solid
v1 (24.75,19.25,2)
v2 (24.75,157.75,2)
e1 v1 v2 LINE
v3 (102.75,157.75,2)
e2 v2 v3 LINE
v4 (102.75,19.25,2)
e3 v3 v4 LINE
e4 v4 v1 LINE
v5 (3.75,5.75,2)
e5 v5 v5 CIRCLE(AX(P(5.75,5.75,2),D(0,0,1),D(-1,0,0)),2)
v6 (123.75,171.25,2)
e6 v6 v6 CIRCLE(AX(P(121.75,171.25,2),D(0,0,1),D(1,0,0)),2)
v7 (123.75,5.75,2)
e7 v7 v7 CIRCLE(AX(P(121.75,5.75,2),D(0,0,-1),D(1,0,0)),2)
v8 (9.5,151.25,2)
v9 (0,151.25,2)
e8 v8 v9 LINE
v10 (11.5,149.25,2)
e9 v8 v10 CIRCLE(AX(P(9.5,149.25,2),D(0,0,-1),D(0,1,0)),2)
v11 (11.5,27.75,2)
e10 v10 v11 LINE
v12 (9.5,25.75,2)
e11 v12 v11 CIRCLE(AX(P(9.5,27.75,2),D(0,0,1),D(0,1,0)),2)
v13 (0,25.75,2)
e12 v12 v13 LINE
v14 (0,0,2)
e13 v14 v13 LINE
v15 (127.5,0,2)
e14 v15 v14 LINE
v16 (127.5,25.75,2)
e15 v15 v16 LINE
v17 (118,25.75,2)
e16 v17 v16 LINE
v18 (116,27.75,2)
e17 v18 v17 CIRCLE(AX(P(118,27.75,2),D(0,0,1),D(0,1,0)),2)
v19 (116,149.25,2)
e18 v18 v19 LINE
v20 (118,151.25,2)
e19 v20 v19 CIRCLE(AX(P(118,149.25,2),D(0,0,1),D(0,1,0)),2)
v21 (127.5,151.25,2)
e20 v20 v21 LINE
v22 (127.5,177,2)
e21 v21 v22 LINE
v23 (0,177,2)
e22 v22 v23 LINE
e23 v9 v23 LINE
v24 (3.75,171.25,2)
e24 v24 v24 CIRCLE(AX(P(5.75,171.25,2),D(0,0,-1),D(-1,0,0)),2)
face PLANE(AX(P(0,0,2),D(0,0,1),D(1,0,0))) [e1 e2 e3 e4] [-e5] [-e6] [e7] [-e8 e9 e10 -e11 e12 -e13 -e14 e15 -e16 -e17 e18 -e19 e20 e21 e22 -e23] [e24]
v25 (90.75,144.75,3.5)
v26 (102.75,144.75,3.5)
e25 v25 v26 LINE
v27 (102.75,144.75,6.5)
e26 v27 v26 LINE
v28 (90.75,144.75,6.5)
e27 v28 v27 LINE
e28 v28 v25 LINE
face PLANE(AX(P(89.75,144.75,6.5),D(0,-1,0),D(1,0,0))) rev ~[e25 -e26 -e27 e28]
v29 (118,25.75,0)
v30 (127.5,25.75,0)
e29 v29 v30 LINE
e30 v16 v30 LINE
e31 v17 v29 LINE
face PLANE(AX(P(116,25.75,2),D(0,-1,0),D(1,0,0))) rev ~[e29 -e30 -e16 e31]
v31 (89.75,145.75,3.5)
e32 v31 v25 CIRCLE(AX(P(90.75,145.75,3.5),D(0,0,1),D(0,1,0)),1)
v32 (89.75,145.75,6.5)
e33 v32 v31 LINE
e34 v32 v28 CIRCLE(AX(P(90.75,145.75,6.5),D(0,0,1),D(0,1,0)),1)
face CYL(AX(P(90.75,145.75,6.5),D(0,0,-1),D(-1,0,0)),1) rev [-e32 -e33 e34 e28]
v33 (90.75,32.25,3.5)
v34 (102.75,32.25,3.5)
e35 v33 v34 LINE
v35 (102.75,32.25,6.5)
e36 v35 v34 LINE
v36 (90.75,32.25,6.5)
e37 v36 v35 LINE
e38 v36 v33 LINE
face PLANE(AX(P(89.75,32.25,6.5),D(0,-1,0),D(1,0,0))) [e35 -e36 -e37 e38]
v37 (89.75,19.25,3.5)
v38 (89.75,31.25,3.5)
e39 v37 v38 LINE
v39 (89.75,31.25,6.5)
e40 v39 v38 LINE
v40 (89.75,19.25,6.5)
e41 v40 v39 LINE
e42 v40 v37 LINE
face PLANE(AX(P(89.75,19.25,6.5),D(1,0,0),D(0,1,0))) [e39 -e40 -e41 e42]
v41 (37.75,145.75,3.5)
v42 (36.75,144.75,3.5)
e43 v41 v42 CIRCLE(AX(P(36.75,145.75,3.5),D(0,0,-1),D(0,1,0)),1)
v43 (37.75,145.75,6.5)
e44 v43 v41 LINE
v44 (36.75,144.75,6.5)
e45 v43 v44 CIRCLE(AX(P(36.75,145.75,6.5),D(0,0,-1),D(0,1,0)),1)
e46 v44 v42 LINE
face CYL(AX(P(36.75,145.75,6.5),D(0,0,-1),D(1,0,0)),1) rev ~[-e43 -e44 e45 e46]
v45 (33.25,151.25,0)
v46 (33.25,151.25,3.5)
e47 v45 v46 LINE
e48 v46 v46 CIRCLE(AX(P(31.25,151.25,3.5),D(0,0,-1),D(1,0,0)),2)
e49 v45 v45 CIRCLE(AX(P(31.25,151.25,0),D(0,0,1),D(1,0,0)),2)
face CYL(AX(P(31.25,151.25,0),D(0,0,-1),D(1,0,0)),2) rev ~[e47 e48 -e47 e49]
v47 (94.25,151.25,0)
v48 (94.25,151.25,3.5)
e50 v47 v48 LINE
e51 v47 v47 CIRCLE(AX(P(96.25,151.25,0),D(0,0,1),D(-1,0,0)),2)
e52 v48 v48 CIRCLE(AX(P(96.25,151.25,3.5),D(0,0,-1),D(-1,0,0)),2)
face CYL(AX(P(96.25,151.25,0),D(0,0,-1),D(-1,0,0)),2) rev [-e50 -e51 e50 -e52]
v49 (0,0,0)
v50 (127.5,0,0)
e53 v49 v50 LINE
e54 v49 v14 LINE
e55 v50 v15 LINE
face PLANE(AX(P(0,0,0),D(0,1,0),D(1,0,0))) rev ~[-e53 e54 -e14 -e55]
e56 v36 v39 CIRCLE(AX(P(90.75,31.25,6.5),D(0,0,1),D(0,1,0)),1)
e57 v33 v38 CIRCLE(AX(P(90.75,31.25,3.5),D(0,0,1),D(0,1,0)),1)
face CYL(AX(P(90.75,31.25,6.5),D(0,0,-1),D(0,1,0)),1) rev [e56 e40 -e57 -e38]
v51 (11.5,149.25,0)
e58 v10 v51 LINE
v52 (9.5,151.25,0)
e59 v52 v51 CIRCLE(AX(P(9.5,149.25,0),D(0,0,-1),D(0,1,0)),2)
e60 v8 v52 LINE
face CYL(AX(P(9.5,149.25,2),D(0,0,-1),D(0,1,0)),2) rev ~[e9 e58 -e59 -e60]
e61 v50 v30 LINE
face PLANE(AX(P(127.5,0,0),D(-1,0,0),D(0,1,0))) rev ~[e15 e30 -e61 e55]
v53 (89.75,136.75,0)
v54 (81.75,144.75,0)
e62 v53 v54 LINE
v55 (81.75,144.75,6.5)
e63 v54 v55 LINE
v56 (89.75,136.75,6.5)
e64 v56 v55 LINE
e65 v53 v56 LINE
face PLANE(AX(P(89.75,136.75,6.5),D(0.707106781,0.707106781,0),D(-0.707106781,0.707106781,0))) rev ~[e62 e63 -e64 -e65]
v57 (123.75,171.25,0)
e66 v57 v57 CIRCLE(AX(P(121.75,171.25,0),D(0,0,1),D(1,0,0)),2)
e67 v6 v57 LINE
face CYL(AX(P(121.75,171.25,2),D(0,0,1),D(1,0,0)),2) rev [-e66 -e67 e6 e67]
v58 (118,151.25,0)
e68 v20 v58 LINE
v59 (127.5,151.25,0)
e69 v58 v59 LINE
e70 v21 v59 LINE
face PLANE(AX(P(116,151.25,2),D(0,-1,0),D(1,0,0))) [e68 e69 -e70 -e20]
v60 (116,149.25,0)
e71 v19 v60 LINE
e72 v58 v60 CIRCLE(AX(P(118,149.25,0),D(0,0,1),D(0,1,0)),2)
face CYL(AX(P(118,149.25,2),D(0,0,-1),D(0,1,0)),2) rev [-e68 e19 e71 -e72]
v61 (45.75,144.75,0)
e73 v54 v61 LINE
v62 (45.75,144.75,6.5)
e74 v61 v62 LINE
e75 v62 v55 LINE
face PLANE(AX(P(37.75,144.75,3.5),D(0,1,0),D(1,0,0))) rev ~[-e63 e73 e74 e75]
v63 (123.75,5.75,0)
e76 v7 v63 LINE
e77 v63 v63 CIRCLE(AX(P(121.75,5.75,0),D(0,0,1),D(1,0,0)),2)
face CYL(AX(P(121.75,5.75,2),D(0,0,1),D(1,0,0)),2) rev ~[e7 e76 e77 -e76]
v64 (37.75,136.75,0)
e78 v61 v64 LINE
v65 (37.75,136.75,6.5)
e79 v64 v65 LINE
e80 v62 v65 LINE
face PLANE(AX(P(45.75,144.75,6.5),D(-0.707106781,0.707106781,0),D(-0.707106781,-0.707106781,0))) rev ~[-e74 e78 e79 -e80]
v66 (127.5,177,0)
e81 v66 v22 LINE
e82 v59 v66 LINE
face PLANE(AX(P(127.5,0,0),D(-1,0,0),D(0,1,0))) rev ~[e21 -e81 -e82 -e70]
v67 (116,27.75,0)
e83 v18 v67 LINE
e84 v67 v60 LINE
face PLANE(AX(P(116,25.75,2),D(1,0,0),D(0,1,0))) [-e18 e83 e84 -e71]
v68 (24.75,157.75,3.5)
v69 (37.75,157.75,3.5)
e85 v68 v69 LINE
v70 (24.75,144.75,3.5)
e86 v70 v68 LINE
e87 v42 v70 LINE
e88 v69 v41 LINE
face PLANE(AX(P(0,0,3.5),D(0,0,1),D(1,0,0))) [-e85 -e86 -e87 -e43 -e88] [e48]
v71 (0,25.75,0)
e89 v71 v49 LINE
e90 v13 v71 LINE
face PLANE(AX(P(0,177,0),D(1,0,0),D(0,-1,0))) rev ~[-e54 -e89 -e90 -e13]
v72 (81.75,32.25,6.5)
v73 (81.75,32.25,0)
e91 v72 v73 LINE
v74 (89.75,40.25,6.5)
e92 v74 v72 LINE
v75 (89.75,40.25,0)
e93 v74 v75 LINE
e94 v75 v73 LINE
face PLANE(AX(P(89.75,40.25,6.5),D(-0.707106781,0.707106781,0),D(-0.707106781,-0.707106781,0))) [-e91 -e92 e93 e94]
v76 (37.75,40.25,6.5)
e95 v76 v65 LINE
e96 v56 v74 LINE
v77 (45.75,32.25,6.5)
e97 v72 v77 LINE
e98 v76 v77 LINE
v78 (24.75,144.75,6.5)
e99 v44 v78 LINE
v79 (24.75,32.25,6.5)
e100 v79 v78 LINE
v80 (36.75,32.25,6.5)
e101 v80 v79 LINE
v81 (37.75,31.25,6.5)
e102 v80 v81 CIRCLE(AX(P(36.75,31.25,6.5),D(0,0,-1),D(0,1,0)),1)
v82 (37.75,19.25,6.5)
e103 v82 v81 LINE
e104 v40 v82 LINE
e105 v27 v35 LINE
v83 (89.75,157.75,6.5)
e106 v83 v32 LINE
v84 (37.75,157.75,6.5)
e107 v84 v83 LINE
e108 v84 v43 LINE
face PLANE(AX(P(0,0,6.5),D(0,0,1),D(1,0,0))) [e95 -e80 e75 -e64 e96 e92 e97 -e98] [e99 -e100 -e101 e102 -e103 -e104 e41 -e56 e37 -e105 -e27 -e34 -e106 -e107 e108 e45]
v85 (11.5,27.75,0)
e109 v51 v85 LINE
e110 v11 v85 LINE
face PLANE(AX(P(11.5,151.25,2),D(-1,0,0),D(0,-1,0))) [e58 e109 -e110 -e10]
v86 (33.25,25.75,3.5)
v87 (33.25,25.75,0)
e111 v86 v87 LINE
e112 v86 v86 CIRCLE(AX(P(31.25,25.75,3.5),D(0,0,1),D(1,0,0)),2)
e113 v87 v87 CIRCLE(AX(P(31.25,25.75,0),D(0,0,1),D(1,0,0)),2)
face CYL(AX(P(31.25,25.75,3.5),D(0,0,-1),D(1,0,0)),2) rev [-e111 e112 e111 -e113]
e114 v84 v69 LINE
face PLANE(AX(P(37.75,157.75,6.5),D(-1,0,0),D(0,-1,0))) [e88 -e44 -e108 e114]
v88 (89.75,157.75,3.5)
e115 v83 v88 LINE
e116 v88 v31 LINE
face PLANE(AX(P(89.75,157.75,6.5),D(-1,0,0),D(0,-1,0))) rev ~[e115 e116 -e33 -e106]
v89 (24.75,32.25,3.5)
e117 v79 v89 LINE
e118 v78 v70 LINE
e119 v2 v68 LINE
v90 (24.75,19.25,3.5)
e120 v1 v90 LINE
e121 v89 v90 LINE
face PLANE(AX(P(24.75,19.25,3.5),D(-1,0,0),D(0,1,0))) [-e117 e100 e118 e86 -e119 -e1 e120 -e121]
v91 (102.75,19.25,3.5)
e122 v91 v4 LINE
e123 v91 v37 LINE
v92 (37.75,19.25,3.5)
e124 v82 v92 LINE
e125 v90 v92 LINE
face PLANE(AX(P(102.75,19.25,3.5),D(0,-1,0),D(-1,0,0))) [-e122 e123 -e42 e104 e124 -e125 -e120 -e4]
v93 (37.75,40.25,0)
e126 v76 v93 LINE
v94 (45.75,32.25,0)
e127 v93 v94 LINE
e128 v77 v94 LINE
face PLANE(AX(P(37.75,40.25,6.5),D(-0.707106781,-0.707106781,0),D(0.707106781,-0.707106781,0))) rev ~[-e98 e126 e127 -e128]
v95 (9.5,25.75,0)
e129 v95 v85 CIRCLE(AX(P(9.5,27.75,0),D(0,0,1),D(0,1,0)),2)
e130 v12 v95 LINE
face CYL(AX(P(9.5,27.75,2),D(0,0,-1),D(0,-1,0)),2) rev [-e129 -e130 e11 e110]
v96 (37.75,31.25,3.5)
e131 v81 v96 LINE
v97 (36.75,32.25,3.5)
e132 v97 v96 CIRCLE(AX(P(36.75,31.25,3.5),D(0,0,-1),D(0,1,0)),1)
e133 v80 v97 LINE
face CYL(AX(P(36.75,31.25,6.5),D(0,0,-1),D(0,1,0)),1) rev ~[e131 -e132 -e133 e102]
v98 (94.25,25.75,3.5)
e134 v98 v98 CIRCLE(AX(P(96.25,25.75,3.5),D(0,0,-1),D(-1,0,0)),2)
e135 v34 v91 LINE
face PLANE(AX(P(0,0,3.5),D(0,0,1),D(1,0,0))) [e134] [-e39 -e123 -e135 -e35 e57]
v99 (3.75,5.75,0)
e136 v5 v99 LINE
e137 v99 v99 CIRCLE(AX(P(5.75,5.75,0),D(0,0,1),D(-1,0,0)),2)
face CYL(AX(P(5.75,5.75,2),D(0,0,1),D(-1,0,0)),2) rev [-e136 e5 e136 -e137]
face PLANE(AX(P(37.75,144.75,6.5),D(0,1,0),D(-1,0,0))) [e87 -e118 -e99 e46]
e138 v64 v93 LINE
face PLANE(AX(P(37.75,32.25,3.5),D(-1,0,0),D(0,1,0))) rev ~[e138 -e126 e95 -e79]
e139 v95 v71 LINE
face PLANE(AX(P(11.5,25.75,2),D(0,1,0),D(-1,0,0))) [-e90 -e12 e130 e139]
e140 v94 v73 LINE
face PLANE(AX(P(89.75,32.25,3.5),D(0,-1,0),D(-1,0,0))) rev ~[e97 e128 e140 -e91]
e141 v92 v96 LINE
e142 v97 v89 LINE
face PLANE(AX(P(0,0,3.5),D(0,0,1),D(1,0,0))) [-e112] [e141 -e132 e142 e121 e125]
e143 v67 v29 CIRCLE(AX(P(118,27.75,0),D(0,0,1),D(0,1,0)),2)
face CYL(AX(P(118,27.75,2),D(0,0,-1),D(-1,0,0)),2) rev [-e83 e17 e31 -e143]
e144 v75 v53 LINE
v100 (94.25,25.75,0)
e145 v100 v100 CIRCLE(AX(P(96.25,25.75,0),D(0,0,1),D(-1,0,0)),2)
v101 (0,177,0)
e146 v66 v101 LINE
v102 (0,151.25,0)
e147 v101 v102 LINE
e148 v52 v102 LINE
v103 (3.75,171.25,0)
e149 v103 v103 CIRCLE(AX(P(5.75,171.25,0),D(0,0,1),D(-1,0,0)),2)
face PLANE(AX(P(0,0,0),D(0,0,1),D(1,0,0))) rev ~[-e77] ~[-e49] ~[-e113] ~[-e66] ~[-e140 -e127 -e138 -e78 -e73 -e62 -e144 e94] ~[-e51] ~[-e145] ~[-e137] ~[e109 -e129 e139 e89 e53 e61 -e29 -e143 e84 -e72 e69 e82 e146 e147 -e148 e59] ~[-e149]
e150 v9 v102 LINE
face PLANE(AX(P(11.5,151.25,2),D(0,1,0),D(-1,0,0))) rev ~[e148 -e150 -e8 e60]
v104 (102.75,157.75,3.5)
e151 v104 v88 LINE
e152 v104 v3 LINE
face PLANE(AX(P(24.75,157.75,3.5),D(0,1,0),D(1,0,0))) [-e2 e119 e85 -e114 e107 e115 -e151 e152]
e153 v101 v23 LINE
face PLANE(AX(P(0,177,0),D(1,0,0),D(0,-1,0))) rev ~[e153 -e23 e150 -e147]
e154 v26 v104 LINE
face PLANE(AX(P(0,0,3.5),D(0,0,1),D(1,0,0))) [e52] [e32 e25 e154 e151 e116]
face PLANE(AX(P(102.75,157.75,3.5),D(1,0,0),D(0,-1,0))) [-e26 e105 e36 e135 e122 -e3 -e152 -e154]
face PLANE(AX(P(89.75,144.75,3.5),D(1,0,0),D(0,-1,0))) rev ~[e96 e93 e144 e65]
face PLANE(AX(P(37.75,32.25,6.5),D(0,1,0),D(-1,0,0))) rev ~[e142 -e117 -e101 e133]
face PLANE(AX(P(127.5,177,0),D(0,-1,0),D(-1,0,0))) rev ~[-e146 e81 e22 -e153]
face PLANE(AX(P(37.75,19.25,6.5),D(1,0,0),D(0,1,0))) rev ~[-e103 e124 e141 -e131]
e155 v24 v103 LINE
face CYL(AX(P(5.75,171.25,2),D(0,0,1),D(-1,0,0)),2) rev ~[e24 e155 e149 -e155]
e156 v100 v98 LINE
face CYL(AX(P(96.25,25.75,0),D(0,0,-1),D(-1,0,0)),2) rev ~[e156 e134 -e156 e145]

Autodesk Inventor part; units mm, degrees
ref_plane "YZ Plane" through (0, 0, 0) normal (1, 0, 0) x (0, 1, 0)
ref_plane "XZ Plane" through (0, 0, 0) normal (0, 1, 0) x (-1, 0, 0)
ref_plane "XY Plane" through (0, 0, 0) normal (0, 0, 1) x (1, 0, 0)
sketch "Boceto1" plane through (0, 0, 0) normal (0, 0, 1) x (1, 0, 0)
  line L0 (0, 0) -> (127.5, 0)
  line L1 (127.5, 0) -> (127.5, 177)
  line L2 (127.5, 177) -> (0, 177)
  line L3 (0, 177) -> (0, 0)
  dimension "d32" = 127.5
  dimension "d33" = 177
extrude "Extrusión1" add sketch "Boceto1" along normal blind 6
ref_plane "Plano de trabajo6" through (0, 88.5, 0) normal (0, -1, 0) x (1, 0, 0)
ref_plane "Plano de trabajo7" through (63.75, 0, 0) normal (-1, 0, 0) x (0, 0, 1)
sketch "Boceto17" plane through (0, 0, 6) normal (0, 0, 1) x (1, 0, 0)
  line L0 (127.5, 0) -> (116, 0)
  line L1 (116, 0) -> (116, 11.5)
  line L2 (116, 11.5) -> (127.5, 11.5)
  line L3 (127.5, 11.5) -> (127.5, 0)
  line L4 (0, 0) -> (11.5, 0)
  line L5 (11.5, 0) -> (11.5, 11.5)
  line L6 (11.5, 11.5) -> (0, 11.5)
  line L7 (0, 11.5) -> (0, 0)
  line L8 (127.5, 177) -> (116, 177)
  line L9 (116, 177) -> (116, 165.5)
  line L10 (116, 165.5) -> (127.5, 165.5)
  line L11 (127.5, 165.5) -> (127.5, 177)
  line L12 (0, 177) -> (11.5, 177)
  line L13 (11.5, 177) -> (11.5, 165.5)
  line L14 (11.5, 165.5) -> (0, 165.5)
  line L15 (0, 165.5) -> (0, 177)
  dimension "d124" = 11.5
  dimension "d125" = 11.5
  dimension "d129" = 11.5
  dimension "d130" = 11.5
  dimension "d131" = 11.5
  dimension "d132" = 11.5
  dimension "d133" = 11.5
  dimension "d134" = 11.5
extrude "Extrusión12" cut sketch "Boceto17" against normal blind 4
sketch "Boceto18" plane through (0, 0, 2) normal (0, 0, 1) x (1, 0, 0)
  line L0 (0, 0) -> (11.5, 0)
  line L1 (11.5, 0) -> (11.5, 11.5)
  line L2 (11.5, 11.5) -> (0, 11.5)
  line L3 (0, 11.5) -> (0, 0)
  line L4 (127.5, 0) -> (116, 0)
  line L5 (116, 0) -> (116, 11.5)
  line L6 (116, 11.5) -> (127.5, 11.5)
  line L7 (127.5, 11.5) -> (127.5, 0)
  line L8 (127.5, 177) -> (116, 177)
  line L9 (116, 177) -> (116, 165.5)
  line L10 (116, 165.5) -> (127.5, 165.5)
  line L11 (127.5, 165.5) -> (127.5, 177)
  line L12 (0, 177) -> (11.5, 177)
  line L13 (11.5, 177) -> (11.5, 165.5)
  line L14 (11.5, 165.5) -> (0, 165.5)
  line L15 (0, 165.5) -> (0, 177)
  line L16 (116, 11.5) -> (127.5, 0)
  line L17 (127.5, 11.5) -> (116, 0)
  circle A0 centre (121.75, 5.75) radius 2
  dimension "d137" = 4
extrude "Extrusión13" cut sketch "Boceto18" against normal blind 3.2 contours A0 L17 L16 | L16 L17 A0 | A0 L16 L17 | L17 L16 A0
mirror "Simetría7" about plane through (63.75, 0, 0) normal (-1, 0, 0) of "Extrusión13"
mirror "Simetría8" about plane through (0, 88.5, 0) normal (0, -1, 0) of "Extrusión13", "Simetría7"
sketch "Boceto19" plane through (0, 0, 6) normal (0, 0, 1) x (1, 0, 0)
  line L0 (0, 0) -> (127.5, 0)
  line L1 (127.5, 0) -> (127.5, 85.5)
  line L2 (127.5, 85.5) -> (0, 85.5)
  line L3 (0, 85.5) -> (0, 0)
  line L4 (127.5, 0) -> (127.5, 177) projected
  line L5 (0, 85.5) -> (127.5, 85.5)
  line L6 (127.5, 85.5) -> (127.5, 91.5)
  line L7 (127.5, 91.5) -> (0, 91.5)
  line L8 (0, 91.5) -> (0, 85.5)
  line L9 (0, 91.5) -> (127.5, 91.5)
  line L10 (127.5, 91.5) -> (127.5, 177)
  line L11 (127.5, 177) -> (0, 177)
  line L12 (0, 177) -> (0, 91.5)
  dimension "d140" = 127.5
  dimension "d141" = 85.5
  dimension "d142" = 6
extrude "Extrusión14" cut sketch "Boceto19" against normal blind 2.5
sketch "Boceto20" plane through (0, 0, 0) normal (0, 0, -1) x (-1, 0, 0)
  line L0 (-127.5, 165.5) -> (-127.5, 11.5) projected
  line L1 (-127.5, 88.5) -> (-127.5, 9.25)
  line L2 (-127.5, 0) -> (-127.5, 177) projected
  line L3 (-127.5, 88.5) -> (-48.25, 88.5) construction
  line L4 (-11.5, 0) -> (-116, 0) projected
  line L5 (-63.75, 0) -> (-102.75, 0)
  line L6 (-63.75, 0) -> (-24.75, 0) construction
  line L7 (-102.75, 0) -> (-102.75, 9.25)
  line L8 (-127.5, 9.25) -> (-102.75, 9.25)
  line L9 (-102.75, 9.25) -> (-24.75, 9.25)
  line L10 (-24.75, 9.25) -> (-24.75, 167.75)
  line L11 (-24.75, 167.75) -> (-102.75, 167.75)
  line L12 (-102.75, 167.75) -> (-102.75, 9.25)
  line L13 (-102.75, 9.25) -> (-102.75, 25.75)
  line L14 (-102.75, 25.75) -> (-96.25, 25.75)
  circle A0 centre (-96.25, 25.75) radius 2
  point P0 (0, 0)
  point P1 (-127.5, 91.5)
  point P2 (-127.5, 85.5)
  dimension "d145" = 79.25
  dimension "d146" = 90
  dimension "d149" = 39
  dimension "d150" = 180
  dimension "d151" = 78
  dimension "d152" = 158.5
  dimension "d153" = 16.5
  dimension "d154" = 6.5
  dimension "d155" = 4
extrude "Extrusión15" cut sketch "Boceto20" against normal blind 10 contours A0
mirror "Simetría9" about plane through (0, 88.5, 0) normal (0, -1, 0) of "Extrusión15"
mirror "Simetría10" about plane through (63.75, 0, 0) normal (-1, 0, 0) of "Extrusión15", "Simetría9"
sketch "Boceto21" plane through (0, 0, 3.5) normal (0, 0, 1) x (1, 0, 0)
  circle A0 centre (31.25, 25.75) radius 2 projected
  line L0 (31.25, 25.75) -> (24.75, 25.75)
  line L1 (24.75, 25.75) -> (24.75, 32.25)
  line L2 (24.75, 32.25) -> (37.75, 32.25)
  line L3 (37.75, 32.25) -> (37.75, 19.25)
  line L4 (37.75, 19.25) -> (24.75, 19.25)
  line L5 (24.75, 19.25) -> (24.75, 32.25)
  circle A1 centre (96.25, 151.25) radius 2 projected
  line L6 (96.25, 151.25) -> (102.75, 151.25)
  line L7 (96.25, 151.25) -> (102.75, 151.25) construction
  line L8 (102.75, 151.25) -> (102.75, 157.75)
  line L9 (102.75, 157.75) -> (89.75, 157.75)
  line L10 (89.75, 157.75) -> (89.75, 144.75)
  line L11 (89.75, 144.75) -> (102.75, 144.75)
  line L12 (102.75, 144.75) -> (102.75, 157.75)
  line L13 (37.75, 32.25) -> (89.75, 32.25)
  line L14 (89.75, 32.25) -> (89.75, 144.75)
  line L15 (89.75, 144.75) -> (37.75, 144.75)
  line L16 (37.75, 144.75) -> (37.75, 32.25)
  point P0 (0, 0)
  dimension "d158" = 6.5
  dimension "d159" = 6.5
  dimension "d160" = 13
  dimension "d161" = 13
  dimension "d162" = 6.5
  dimension "d163" = 0
  dimension "d164" = 6.5
  dimension "d165" = 90
  dimension "d166" = 13
  dimension "d167" = 13
extrude "Extrusión16" cut sketch "Boceto21" against normal blind 10 contours L16 L15 L14 L13
sketch "Boceto22" plane through (0, 0, 3.5) normal (0, 0, 1) x (1, 0, 0)
  line L0 (0, 165.5) -> (11.5, 165.5)
  line L1 (0, 165.5) -> (11.5, 165.5) projected
  line L2 (11.5, 165.5) -> (11.5, 177)
  line L3 (11.5, 165.5) -> (11.5, 177) projected
  line L4 (11.5, 177) -> (116, 177)
  line L5 (116, 177) -> (116, 165.5) projected
  line L6 (116, 177) -> (116, 165.5)
  line L7 (116, 165.5) -> (127.5, 165.5)
  line L8 (116, 165.5) -> (127.5, 165.5) projected
  line L9 (127.5, 165.5) -> (127.5, 11.5)
  line L10 (127.5, 165.5) -> (127.5, 11.5) projected
  line L11 (127.5, 11.5) -> (116, 11.5)
  line L12 (127.5, 11.5) -> (116, 11.5) projected
  line L13 (116, 11.5) -> (116, 0)
  line L14 (116, 11.5) -> (116, 0) projected
  line L15 (116, 0) -> (11.5, 0)
  line L16 (11.5, 0) -> (11.5, 11.5)
  line L17 (11.5, 0) -> (11.5, 11.5) projected
  line L18 (11.5, 11.5) -> (0, 11.5)
  line L19 (11.5, 11.5) -> (0, 11.5) projected
  line L20 (0, 11.5) -> (0, 165.5)
  line L21 (37.75, 144.75) -> (89.75, 144.75)
  line L22 (89.75, 144.75) -> (89.75, 32.25)
  line L23 (89.75, 32.25) -> (37.75, 32.25)
  line L24 (37.75, 32.25) -> (37.75, 144.75)
  circle A0 centre (31.25, 25.75) radius 2
  line L25 (31.25, 25.75) -> (24.75, 25.75)
  line L26 (24.75, 25.75) -> (24.75, 32.25)
  line L27 (24.75, 32.25) -> (37.75, 32.25)
  line L28 (37.75, 32.25) -> (37.75, 19.25)
  line L29 (37.75, 19.25) -> (24.75, 19.25)
  line L30 (24.75, 19.25) -> (24.75, 32.25)
  circle A1 centre (96.25, 151.25) radius 2
  line L31 (96.25, 151.25) -> (102.75, 151.25)
  line L32 (96.25, 151.25) -> (102.75, 151.25) construction
  line L33 (102.75, 151.25) -> (102.75, 157.75)
  line L34 (102.75, 157.75) -> (89.75, 157.75)
  line L35 (89.75, 157.75) -> (89.75, 144.75)
  line L36 (89.75, 144.75) -> (102.75, 144.75)
  line L37 (102.75, 144.75) -> (102.75, 157.75)
  line L38 (37.75, 32.25) -> (89.75, 32.25)
  line L39 (89.75, 32.25) -> (89.75, 144.75)
  line L40 (89.75, 144.75) -> (37.75, 144.75)
  line L41 (37.75, 144.75) -> (37.75, 32.25)
  line L42 (24.75, 19.25) -> (102.75, 19.25)
  line L43 (102.75, 19.25) -> (102.75, 157.75)
  line L44 (102.75, 157.75) -> (24.75, 157.75)
  line L45 (24.75, 157.75) -> (24.75, 19.25)
  point P0 (0, 0)
  point P1 (0, 0)
  dimension "d170" = 6.5
  dimension "d171" = 6.5
  dimension "d172" = 13
  dimension "d173" = 13
  dimension "d174" = 6.5
  dimension "d175" = 0
  dimension "d176" = 6.5
  dimension "d177" = 90
  dimension "d178" = 13
  dimension "d179" = 13
extrude "Extrusión17" cut sketch "Boceto22" against normal blind 1.5 contours L0 L2 L4 L5 L7 L9 L11 L13 L15 L16 L18 L20
sketch "Boceto23" plane through (0, 0, 2) normal (0, 0, 1) x (1, 0, 0)
  line L0 (0, 0) -> (11.5, 0)
  line L1 (11.5, 0) -> (11.5, 11.5)
  line L2 (11.5, 11.5) -> (0, 11.5)
  line L3 (0, 11.5) -> (0, 0)
  line L4 (127.5, 177) -> (116, 177)
  line L5 (116, 177) -> (116, 165.5)
  line L6 (116, 165.5) -> (127.5, 165.5)
  line L7 (127.5, 165.5) -> (127.5, 177)
  line L8 (11.5, 11.5) -> (116, 11.5)
  line L9 (116, 11.5) -> (116, 165.5)
  line L10 (116, 165.5) -> (11.5, 165.5)
  line L11 (11.5, 165.5) -> (11.5, 11.5)
  line L12 (24.75, 157.75) -> (102.75, 157.75)
  line L13 (102.75, 157.75) -> (102.75, 19.25)
  line L14 (102.75, 19.25) -> (24.75, 19.25)
  line L15 (24.75, 19.25) -> (24.75, 157.75)
  circle A0 centre (31.25, 151.25) radius 2 projected
  line L16 (31.25, 151.25) -> (0, 151.25)
  line L17 (0, 177) -> (0, 0) projected
  circle A1 centre (96.25, 25.75) radius 2 projected
  line L18 (0, 151.25) -> (11.5, 151.25)
  line L19 (11.5, 151.25) -> (11.5, 25.75)
  line L20 (11.5, 25.75) -> (0, 25.75)
  line L21 (0, 25.75) -> (0, 151.25)
  line L22 (96.25, 25.75) -> (127.5, 25.75)
  line L23 (127.5, 25.75) -> (116, 25.75)
  line L24 (116, 25.75) -> (116, 151.25)
  line L25 (116, 151.25) -> (127.5, 151.25)
  line L26 (127.5, 151.25) -> (127.5, 25.75)
  dimension "d182" = 11.5
  dimension "d183" = 11.5
  dimension "d184" = 11.5
  dimension "d185" = 11.5
extrude "Extrusión18" cut sketch "Boceto23" against normal blind 3 contours L17 L16 L11 L20 | L9 L25 L26 L22
fillet "Empalme1" radius 2 4 edges at (11.5, 151.25, 1) (116, 151.25, 1) (116, 25.75, 1) (11.5, 25.75, 1)
sketch "Boceto24" plane through (0, 0, 3.5) normal (0, 0, 1) x (1, 0, 0)
  line L0 (24.75, 157.75) -> (102.75, 157.75)
  line L1 (102.75, 157.75) -> (102.75, 19.25)
  line L2 (102.75, 19.25) -> (24.75, 19.25)
  line L3 (24.75, 19.25) -> (24.75, 157.75)
  circle A0 centre (31.25, 151.25) radius 2 projected
  circle A1 centre (31.25, 151.25) radius 2
  circle A2 centre (96.25, 151.25) radius 2 projected
  circle A3 centre (96.25, 151.25) radius 2
  circle A4 centre (96.25, 25.75) radius 2 projected
  circle A5 centre (96.25, 25.75) radius 2
  circle A6 centre (31.25, 25.75) radius 2 projected
  circle A7 centre (31.25, 25.75) radius 2
  line L4 (37.75, 144.75) -> (89.75, 144.75)
  line L5 (89.75, 144.75) -> (89.75, 32.25)
  line L6 (89.75, 32.25) -> (37.75, 32.25)
  line L7 (37.75, 32.25) -> (37.75, 144.75)
  point P0 (0, 0)
extrude "Extrusión19" add sketch "Boceto24" along normal blind 3
sketch "Boceto25" plane through (0, 0, 6.5) normal (0, 0, 1) x (1, 0, 0)
  line L0 (37.75, 144.75) -> (24.75, 144.75)
  line L1 (24.75, 144.75) -> (24.75, 157.75)
  line L2 (24.75, 157.75) -> (37.75, 157.75)
  line L3 (37.75, 157.75) -> (37.75, 144.75)
  line L4 (24.75, 19.25) -> (37.75, 19.25)
  line L5 (37.75, 19.25) -> (37.75, 32.25)
  line L6 (37.75, 32.25) -> (24.75, 32.25)
  line L7 (24.75, 32.25) -> (24.75, 19.25)
  line L8 (102.75, 19.25) -> (89.75, 19.25)
  line L9 (89.75, 19.25) -> (89.75, 32.25)
  line L10 (89.75, 32.25) -> (102.75, 32.25)
  line L11 (102.75, 32.25) -> (102.75, 19.25)
  line L12 (102.75, 157.75) -> (89.75, 157.75)
  line L13 (89.75, 157.75) -> (89.75, 144.75)
  line L14 (89.75, 144.75) -> (102.75, 144.75)
  line L15 (102.75, 144.75) -> (102.75, 157.75)
  circle A0 centre (31.25, 151.25) radius 2 projected
  circle A1 centre (31.25, 151.25) radius 2
  circle A2 centre (96.25, 151.25) radius 2 projected
  circle A3 centre (96.25, 151.25) radius 2
  circle A4 centre (96.25, 25.75) radius 2 projected
  circle A5 centre (96.25, 25.75) radius 2
  circle A6 centre (31.25, 25.75) radius 2 projected
  circle A7 centre (31.25, 25.75) radius 2
  point P0 (0, 0)
  dimension "d191" = 13
  dimension "d192" = 13
sketch "Boceto26" plane through (0, 0, 6.5) normal (0, 0, 1) x (1, 0, 0)
  line L0 (37.75, 32.25) -> (45.75, 32.25)
  line L1 (45.75, 32.25) -> (45.75, 40.25)
  line L2 (45.75, 40.25) -> (37.75, 40.25)
  line L3 (37.75, 40.25) -> (37.75, 32.25)
  line L4 (37.75, 40.25) -> (45.75, 32.25)
  line L5 (89.75, 32.25) -> (81.75, 32.25)
  line L6 (81.75, 32.25) -> (81.75, 40.25)
  line L7 (81.75, 40.25) -> (89.75, 40.25)
  line L8 (89.75, 40.25) -> (89.75, 32.25)
  line L9 (89.75, 40.25) -> (81.75, 32.25)
  line L10 (37.75, 144.75) -> (45.75, 144.75)
  line L11 (45.75, 144.75) -> (45.75, 136.75)
  line L12 (45.75, 136.75) -> (37.75, 136.75)
  line L13 (37.75, 136.75) -> (37.75, 144.75)
  line L14 (45.75, 144.75) -> (37.75, 136.75)
  line L15 (89.75, 144.75) -> (81.75, 144.75)
  line L16 (81.75, 144.75) -> (81.75, 136.75)
  line L17 (81.75, 136.75) -> (89.75, 136.75)
  line L18 (89.75, 136.75) -> (89.75, 144.75)
  line L19 (89.75, 136.75) -> (81.75, 144.75)
  point P0 (0, 0)
  dimension "d193" = 8
  dimension "d194" = 8
  dimension "d195" = 8
  dimension "d196" = 8
  dimension "d197" = 8
  dimension "d198" = 8
  dimension "d199" = 8
  dimension "d200" = 8
extrude "Extrusión20" add sketch "Boceto26" against normal blind 6.5 contours L3 L4 L0 | L5 L9 L8 | L10 L14 L13 | L18 L19 L15
extrude "Extrusión21" cut sketch "Boceto25" against normal blind 3
fillet "Empalme2" radius 1 4 edges at (89.75, 32.25, 5) (37.75, 32.25, 5) (37.75, 144.75, 5) (89.75, 144.75, 5)
properties part number "transillum_diffusor_partE_v1"
